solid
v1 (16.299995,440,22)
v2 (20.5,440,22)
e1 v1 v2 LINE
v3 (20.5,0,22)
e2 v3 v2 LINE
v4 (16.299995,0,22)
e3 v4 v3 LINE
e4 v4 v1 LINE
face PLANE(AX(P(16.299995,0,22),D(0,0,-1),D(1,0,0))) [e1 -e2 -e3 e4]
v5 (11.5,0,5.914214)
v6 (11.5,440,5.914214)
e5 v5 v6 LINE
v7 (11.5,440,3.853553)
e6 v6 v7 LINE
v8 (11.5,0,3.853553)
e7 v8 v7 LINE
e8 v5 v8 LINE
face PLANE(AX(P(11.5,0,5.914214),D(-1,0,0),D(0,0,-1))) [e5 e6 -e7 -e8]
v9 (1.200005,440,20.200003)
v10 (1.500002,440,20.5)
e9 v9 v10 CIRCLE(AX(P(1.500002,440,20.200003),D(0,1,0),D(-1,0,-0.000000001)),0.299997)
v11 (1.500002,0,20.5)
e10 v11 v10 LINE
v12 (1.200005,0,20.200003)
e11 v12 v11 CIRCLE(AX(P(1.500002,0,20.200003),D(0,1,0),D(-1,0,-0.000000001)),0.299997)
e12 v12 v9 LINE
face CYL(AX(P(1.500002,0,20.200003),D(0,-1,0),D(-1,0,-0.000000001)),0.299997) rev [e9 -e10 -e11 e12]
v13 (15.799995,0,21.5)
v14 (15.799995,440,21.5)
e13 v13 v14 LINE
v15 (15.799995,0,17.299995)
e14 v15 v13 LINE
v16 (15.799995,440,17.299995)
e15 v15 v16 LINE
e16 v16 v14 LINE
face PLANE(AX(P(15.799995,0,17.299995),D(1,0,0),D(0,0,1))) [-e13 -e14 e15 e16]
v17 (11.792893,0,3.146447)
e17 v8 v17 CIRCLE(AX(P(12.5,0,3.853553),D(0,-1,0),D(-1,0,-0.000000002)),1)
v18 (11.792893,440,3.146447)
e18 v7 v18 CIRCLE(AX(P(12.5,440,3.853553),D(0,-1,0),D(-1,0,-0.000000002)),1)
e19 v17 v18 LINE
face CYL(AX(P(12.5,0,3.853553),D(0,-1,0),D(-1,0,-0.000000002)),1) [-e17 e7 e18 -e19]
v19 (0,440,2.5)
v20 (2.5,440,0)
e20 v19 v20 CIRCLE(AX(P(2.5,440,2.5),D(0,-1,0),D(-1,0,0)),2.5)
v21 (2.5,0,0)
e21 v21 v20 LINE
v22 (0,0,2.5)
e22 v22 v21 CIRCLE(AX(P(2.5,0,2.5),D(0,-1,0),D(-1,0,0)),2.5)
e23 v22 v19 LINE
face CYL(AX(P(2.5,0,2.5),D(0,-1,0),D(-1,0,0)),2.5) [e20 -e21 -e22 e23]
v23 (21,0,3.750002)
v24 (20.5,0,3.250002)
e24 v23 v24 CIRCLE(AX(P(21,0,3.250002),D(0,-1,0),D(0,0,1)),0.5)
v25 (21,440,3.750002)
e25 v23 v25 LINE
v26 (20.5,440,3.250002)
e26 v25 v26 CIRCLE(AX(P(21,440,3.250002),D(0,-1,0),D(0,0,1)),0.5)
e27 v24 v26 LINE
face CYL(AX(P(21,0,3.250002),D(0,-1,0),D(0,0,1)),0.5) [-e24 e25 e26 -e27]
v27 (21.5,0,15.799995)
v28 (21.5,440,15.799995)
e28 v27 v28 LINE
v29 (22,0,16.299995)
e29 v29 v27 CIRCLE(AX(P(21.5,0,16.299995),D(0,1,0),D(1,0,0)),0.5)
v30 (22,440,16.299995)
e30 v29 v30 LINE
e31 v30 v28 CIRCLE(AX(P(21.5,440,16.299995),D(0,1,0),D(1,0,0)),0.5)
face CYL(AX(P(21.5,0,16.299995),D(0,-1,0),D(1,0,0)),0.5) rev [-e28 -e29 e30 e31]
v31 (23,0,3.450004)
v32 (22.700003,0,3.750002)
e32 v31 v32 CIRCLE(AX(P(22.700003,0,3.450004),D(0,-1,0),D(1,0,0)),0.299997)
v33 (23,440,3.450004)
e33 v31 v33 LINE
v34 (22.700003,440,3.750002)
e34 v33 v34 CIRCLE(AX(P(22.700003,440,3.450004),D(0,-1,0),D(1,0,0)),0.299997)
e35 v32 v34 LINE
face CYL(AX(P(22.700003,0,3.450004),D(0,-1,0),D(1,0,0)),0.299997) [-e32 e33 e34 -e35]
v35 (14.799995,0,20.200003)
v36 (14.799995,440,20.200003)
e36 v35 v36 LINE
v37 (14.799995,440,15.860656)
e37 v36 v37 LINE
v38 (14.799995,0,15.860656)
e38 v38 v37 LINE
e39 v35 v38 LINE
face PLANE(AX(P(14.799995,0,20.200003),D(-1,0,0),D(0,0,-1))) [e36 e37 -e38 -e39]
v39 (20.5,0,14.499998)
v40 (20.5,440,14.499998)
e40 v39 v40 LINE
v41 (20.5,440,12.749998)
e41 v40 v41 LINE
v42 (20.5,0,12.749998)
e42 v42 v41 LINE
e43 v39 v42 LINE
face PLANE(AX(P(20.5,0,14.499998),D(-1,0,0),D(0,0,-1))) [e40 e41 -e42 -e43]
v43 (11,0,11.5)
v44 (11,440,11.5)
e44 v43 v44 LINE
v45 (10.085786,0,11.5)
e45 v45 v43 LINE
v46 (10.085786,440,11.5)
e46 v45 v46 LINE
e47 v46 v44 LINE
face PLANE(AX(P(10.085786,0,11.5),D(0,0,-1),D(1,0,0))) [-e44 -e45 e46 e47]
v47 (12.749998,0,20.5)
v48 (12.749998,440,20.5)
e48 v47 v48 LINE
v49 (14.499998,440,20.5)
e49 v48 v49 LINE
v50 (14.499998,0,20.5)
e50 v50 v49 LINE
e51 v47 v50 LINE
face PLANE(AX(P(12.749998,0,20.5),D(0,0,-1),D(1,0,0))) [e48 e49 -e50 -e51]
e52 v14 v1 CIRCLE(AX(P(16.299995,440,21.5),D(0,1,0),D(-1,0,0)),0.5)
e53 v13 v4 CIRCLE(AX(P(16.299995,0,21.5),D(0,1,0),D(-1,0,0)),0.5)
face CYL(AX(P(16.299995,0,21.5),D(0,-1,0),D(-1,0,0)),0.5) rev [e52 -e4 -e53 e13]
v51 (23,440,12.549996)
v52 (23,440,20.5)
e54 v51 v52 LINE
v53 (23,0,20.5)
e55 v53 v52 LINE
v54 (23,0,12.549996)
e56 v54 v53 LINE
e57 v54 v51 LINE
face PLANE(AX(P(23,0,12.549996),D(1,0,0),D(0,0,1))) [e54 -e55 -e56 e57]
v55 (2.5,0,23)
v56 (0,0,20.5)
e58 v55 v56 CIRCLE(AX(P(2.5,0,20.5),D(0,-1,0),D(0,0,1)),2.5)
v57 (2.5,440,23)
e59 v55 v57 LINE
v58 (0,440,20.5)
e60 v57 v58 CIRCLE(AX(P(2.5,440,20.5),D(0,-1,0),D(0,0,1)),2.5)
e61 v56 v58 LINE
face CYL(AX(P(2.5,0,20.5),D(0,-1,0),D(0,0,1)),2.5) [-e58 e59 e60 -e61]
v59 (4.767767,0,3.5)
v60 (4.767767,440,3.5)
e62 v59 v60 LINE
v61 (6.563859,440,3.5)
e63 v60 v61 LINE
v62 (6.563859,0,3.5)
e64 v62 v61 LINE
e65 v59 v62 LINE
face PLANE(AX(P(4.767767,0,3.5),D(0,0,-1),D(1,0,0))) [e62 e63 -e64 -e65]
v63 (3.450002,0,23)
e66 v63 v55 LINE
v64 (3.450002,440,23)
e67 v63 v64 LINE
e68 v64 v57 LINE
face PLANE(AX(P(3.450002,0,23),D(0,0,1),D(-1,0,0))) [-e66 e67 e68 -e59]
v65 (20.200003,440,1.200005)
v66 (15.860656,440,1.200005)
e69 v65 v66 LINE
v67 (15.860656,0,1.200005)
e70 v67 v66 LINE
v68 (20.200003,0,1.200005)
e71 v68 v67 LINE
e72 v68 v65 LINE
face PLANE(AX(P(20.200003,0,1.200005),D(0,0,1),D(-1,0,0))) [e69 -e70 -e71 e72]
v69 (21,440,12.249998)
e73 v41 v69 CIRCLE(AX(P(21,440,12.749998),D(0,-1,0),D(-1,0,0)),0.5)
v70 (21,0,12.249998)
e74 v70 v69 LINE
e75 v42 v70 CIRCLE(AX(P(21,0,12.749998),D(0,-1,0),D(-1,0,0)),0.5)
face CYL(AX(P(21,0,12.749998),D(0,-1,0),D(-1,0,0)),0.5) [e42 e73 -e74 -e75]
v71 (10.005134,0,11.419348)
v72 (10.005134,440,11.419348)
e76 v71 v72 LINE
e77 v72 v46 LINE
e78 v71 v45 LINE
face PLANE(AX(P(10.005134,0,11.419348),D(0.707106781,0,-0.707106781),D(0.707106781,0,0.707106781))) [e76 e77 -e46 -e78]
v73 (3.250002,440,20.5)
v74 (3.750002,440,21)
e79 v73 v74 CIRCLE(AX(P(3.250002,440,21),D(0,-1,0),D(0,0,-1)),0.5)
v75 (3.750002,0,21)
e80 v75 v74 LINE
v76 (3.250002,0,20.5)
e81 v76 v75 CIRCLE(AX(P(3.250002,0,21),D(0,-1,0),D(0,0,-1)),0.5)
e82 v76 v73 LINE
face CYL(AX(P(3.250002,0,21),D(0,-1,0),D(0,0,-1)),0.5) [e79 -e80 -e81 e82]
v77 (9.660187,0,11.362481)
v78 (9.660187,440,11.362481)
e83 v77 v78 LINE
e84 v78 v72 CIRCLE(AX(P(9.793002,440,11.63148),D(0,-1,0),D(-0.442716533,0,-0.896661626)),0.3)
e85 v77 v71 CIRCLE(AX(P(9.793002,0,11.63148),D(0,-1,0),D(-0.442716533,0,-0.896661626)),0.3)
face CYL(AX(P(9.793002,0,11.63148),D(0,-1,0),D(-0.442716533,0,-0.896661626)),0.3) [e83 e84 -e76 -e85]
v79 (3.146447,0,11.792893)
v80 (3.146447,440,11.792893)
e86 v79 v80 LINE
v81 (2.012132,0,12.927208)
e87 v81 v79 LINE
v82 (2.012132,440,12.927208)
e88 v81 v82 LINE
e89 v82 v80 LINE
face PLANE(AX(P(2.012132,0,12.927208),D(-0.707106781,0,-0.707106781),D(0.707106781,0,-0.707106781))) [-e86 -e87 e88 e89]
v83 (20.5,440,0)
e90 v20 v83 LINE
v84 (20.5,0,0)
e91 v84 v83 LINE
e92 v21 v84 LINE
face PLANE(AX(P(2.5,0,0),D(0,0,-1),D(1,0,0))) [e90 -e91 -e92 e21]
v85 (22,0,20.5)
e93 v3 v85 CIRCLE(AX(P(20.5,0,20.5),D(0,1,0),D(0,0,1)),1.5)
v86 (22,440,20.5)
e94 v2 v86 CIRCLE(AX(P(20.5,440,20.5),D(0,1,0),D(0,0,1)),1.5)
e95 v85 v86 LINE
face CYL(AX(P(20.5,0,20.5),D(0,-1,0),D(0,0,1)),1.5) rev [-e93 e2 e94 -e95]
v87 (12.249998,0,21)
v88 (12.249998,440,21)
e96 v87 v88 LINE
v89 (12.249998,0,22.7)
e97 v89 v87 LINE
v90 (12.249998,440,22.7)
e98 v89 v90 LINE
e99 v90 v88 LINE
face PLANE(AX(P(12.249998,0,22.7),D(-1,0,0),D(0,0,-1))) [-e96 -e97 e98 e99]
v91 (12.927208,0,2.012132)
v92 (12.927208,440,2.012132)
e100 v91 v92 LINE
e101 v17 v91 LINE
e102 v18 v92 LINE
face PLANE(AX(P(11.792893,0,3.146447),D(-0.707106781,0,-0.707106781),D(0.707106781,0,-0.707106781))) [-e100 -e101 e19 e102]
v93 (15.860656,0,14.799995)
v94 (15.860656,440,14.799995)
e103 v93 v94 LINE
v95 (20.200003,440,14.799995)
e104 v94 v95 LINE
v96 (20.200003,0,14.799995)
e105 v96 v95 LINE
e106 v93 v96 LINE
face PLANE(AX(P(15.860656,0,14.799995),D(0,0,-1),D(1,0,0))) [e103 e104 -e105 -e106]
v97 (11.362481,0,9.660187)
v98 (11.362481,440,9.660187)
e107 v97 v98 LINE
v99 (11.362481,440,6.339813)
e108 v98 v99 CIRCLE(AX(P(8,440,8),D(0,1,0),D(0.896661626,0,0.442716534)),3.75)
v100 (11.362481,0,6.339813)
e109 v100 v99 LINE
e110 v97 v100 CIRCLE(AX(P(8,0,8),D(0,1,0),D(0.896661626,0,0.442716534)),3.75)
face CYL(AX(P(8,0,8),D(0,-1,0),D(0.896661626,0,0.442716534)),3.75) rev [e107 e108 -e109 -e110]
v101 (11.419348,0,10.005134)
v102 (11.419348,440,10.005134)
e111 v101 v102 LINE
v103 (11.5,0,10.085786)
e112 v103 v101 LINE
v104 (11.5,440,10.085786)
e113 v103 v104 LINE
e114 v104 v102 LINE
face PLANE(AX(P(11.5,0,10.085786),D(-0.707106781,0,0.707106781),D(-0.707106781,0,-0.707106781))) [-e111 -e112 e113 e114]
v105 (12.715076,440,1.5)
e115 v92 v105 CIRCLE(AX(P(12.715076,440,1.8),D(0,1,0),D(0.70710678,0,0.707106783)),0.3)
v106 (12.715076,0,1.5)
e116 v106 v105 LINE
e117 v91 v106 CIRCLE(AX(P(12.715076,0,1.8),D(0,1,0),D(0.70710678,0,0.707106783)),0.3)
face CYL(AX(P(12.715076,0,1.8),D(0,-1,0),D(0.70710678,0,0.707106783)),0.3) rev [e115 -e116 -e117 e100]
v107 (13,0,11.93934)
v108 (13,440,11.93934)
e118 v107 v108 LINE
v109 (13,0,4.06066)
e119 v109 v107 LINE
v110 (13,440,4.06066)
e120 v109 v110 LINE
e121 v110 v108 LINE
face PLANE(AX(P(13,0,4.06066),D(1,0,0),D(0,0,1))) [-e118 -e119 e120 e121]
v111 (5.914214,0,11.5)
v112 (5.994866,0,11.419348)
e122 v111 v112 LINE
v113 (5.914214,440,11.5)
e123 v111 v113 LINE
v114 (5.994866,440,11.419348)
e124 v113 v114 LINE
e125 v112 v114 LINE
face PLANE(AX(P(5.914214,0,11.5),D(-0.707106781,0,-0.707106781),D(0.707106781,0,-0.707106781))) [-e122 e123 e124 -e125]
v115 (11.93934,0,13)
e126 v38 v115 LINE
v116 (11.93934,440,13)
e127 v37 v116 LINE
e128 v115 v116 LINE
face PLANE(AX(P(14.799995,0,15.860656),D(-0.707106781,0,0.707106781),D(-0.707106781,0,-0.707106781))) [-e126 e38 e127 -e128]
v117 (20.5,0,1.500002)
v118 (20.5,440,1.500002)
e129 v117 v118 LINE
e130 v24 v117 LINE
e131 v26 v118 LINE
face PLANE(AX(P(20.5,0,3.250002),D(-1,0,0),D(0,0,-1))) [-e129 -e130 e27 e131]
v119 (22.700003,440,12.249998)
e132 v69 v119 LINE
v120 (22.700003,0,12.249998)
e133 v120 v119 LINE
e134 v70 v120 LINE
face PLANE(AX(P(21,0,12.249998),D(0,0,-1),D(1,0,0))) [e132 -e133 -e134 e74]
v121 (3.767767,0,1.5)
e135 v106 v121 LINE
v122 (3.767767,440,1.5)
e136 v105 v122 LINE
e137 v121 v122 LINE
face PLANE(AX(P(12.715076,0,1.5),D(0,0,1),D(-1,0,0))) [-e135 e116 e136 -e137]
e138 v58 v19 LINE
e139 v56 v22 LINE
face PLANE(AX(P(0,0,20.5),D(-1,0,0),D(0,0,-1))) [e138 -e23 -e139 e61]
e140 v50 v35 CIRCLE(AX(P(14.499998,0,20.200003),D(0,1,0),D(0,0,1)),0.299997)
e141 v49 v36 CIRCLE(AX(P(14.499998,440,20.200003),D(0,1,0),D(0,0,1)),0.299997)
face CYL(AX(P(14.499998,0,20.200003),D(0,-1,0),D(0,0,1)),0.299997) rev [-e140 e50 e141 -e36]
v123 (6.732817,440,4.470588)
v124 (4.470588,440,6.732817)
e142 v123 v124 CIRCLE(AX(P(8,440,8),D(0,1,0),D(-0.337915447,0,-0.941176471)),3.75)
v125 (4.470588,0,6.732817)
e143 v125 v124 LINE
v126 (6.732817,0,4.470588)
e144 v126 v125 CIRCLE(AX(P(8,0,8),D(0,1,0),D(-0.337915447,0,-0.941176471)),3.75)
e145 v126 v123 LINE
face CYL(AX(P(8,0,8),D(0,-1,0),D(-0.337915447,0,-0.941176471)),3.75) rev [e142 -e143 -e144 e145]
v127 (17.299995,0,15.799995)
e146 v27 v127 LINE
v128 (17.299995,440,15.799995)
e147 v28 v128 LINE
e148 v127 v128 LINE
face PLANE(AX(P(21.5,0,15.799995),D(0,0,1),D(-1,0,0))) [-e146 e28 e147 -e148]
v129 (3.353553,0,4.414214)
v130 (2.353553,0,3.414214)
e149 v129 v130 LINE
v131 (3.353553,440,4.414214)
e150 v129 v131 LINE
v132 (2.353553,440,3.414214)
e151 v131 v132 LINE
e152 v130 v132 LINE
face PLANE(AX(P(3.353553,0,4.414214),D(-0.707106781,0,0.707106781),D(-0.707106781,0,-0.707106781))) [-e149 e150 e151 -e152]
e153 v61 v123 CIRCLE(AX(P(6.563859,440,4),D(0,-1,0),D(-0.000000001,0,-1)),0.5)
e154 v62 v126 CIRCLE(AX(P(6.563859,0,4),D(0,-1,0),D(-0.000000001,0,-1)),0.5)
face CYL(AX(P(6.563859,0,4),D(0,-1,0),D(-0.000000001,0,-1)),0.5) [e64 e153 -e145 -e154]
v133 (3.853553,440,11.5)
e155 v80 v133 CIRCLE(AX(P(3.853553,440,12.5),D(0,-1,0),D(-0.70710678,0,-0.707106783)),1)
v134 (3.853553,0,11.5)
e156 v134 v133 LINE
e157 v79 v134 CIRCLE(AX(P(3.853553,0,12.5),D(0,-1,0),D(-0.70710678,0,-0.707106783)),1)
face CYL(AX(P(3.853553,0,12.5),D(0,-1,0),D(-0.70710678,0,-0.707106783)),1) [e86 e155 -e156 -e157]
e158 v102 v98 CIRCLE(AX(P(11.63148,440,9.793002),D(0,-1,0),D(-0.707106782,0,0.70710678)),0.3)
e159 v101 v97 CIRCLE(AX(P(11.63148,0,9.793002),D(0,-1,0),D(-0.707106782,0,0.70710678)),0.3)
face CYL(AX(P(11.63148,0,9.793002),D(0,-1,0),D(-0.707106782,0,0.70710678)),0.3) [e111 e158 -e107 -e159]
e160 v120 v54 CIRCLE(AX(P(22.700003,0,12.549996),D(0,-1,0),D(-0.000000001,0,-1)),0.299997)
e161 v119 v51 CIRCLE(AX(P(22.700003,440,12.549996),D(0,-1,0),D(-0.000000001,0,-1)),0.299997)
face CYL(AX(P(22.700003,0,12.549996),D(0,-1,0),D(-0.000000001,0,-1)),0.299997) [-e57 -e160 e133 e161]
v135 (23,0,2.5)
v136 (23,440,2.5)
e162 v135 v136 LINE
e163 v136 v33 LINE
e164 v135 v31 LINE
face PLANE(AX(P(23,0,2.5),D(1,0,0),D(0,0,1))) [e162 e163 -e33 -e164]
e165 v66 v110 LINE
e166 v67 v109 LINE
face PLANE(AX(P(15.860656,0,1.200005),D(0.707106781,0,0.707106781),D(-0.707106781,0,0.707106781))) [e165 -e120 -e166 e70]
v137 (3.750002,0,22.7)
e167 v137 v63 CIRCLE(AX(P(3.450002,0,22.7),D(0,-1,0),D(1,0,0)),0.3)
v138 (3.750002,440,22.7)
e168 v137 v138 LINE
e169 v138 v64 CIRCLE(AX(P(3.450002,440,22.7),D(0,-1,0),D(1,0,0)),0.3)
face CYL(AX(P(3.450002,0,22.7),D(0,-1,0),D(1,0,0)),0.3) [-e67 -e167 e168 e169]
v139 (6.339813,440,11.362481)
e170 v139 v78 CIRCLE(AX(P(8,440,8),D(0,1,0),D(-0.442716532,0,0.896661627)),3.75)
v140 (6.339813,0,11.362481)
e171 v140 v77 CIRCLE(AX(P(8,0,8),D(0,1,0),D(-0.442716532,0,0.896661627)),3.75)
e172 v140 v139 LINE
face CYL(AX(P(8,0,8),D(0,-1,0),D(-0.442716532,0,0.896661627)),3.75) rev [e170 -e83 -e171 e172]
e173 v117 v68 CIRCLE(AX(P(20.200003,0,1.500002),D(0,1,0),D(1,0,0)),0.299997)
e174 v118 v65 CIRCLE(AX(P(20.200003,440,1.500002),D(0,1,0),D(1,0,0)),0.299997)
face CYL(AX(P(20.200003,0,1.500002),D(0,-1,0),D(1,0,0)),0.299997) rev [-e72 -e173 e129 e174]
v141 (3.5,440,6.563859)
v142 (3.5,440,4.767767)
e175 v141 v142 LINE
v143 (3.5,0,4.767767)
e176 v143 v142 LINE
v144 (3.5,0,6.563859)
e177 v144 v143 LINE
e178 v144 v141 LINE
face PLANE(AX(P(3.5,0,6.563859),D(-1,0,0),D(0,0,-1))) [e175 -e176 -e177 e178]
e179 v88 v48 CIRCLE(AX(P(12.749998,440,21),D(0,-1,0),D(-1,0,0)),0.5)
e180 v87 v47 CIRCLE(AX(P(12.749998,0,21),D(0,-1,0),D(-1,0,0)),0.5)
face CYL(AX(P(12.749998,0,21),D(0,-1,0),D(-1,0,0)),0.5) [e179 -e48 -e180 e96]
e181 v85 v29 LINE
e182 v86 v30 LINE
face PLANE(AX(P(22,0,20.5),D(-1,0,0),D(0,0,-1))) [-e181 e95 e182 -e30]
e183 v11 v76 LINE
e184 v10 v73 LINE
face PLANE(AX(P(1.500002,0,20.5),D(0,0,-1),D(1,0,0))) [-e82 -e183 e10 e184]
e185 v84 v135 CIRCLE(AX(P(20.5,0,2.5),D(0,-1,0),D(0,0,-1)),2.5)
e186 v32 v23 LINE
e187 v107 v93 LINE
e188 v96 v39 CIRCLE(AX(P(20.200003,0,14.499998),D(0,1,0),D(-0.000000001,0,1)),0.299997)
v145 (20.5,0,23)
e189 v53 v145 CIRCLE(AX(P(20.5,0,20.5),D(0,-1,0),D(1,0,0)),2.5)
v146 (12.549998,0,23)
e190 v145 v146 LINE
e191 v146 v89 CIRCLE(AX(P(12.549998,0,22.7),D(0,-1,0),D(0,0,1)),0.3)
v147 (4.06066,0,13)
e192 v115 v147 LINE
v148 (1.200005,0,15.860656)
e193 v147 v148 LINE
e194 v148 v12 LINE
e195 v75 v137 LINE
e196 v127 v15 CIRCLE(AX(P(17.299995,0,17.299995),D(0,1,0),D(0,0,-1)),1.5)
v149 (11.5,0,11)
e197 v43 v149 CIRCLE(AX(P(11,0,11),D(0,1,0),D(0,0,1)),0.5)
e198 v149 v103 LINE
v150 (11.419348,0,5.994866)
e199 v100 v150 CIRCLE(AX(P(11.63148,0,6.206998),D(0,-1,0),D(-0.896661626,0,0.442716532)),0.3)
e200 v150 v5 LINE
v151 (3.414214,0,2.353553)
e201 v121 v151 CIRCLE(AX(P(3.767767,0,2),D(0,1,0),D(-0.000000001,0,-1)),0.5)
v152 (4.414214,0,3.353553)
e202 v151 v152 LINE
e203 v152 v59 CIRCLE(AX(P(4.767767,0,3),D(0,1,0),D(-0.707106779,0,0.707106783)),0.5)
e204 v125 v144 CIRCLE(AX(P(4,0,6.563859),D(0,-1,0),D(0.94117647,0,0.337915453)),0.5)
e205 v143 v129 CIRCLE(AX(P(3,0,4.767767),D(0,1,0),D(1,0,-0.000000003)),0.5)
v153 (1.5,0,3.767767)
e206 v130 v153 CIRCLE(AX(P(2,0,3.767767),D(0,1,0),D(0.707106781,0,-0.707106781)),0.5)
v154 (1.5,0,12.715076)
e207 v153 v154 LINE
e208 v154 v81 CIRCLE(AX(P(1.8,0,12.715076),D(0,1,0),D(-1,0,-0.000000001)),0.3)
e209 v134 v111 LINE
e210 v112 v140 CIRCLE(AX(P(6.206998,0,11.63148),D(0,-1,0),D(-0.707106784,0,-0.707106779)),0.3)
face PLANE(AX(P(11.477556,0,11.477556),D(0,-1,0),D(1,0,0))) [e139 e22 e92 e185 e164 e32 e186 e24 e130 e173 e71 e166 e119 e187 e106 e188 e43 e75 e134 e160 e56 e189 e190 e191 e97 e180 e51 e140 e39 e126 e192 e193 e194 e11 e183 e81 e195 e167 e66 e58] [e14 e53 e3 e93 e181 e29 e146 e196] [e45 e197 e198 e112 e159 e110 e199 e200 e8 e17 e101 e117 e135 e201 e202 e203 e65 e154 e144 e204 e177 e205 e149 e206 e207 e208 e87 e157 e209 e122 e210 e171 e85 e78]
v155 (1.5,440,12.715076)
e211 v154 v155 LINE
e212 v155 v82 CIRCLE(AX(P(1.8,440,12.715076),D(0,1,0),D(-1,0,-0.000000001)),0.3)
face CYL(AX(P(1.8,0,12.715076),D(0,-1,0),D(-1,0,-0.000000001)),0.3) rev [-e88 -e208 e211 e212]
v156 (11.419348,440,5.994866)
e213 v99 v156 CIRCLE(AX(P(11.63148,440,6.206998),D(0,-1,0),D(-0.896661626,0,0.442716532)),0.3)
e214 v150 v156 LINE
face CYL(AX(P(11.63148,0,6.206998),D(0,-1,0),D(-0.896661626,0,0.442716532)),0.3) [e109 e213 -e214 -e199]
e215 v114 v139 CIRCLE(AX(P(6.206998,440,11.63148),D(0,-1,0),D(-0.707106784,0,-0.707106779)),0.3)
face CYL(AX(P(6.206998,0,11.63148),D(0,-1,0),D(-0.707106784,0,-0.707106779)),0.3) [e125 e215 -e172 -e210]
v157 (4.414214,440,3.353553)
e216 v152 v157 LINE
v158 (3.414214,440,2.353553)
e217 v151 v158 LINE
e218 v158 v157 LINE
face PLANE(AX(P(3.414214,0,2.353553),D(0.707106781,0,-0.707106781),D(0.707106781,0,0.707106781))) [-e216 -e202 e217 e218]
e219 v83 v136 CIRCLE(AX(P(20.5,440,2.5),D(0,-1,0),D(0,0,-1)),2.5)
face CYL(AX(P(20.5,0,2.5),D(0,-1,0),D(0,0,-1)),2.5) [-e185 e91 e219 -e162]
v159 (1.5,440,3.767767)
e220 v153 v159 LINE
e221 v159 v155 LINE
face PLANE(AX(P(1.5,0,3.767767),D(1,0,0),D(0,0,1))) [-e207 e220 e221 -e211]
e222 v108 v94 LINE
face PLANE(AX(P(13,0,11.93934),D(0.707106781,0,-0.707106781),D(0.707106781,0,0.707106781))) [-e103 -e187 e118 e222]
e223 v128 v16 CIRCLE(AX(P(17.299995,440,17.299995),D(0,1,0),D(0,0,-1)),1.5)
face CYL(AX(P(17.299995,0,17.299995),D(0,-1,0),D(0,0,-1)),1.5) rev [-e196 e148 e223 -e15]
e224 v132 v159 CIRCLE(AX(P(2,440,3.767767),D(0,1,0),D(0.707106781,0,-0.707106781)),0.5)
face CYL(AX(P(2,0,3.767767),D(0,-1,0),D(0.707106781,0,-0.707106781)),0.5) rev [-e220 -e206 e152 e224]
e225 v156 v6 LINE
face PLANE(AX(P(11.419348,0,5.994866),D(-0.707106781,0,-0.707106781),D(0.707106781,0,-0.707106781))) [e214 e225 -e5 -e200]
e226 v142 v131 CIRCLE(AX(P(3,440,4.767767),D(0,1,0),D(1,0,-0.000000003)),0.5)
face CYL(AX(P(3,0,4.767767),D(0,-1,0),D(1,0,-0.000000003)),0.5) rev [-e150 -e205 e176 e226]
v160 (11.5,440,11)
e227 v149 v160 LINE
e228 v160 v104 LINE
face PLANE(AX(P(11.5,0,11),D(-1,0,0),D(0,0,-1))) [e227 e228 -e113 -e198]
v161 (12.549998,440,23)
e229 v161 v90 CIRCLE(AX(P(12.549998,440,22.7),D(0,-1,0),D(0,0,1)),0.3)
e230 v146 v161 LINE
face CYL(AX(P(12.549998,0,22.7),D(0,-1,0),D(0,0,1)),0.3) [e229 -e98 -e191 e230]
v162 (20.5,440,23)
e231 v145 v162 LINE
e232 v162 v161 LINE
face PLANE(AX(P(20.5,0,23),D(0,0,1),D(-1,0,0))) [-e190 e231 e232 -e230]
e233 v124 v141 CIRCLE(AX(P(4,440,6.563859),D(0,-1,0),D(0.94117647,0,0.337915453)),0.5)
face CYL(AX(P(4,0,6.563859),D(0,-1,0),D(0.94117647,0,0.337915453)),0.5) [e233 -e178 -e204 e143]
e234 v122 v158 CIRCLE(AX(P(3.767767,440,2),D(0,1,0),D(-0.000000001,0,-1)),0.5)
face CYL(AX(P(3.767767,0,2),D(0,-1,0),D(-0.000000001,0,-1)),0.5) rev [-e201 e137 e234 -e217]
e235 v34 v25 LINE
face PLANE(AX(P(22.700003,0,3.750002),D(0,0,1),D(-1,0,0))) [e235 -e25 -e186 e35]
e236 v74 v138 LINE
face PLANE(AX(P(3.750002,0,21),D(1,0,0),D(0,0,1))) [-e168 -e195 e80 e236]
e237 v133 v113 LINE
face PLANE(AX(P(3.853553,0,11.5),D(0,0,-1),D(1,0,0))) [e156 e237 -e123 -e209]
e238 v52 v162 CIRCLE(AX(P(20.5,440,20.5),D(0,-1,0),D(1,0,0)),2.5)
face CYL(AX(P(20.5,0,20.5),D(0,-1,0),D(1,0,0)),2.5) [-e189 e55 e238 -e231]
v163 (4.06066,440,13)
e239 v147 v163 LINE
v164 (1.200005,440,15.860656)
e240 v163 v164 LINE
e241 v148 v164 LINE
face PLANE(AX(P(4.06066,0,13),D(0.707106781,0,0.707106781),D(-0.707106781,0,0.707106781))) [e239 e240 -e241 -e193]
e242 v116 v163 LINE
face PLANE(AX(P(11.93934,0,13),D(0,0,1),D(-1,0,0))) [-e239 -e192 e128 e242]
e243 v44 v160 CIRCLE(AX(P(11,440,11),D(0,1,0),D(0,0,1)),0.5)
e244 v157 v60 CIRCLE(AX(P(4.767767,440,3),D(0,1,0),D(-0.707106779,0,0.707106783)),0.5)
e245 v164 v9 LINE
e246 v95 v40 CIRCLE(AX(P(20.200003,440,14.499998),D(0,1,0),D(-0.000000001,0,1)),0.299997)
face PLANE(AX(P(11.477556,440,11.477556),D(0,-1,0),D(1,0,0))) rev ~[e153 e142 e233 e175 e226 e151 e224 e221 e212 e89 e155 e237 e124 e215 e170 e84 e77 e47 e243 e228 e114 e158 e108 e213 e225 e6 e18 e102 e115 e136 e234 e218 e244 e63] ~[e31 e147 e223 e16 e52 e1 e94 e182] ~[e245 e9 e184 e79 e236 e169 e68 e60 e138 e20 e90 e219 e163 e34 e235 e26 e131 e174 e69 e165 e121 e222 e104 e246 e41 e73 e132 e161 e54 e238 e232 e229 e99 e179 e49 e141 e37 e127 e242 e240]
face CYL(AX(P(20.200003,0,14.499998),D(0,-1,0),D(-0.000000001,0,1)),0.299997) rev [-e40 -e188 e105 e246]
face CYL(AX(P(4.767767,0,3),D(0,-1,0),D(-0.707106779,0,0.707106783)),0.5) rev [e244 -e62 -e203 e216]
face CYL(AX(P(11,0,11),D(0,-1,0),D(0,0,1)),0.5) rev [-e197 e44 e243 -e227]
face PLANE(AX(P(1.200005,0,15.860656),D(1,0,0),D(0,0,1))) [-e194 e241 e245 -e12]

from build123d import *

# Parameters (mm, degrees)
AUFSATZ_LINEAR_AUSTRAGEN1_DEPTH = 440


with BuildPart() as part:
    # Skizze1 → Aufsatz-Linear austragen1 (new body)
    with BuildSketch(Plane.XZ):
        with BuildLine():
            Line((3.450001515, 23.00000001), (2.5, 23.00000001))
            ThreePointArc((2.5, 23.00000001), (0.73223304, 22.26776696), (-1e-08, 20.5))
            Line((-1e-08, 20.5), (-1e-08, 2.50000002))
            ThreePointArc((-1e-08, 2.50000002), (0.732233039, 0.732233062), (2.499999998, 1.2e-08))
            Line((2.499999998, 1.2e-08), (20.499999977, 1.2e-08))
            ThreePointArc((20.499999977, 1.2e-08), (22.267766938, 0.732233062), (22.999999988, 2.500000023))
            Line((22.999999988, 2.500000023), (22.999999988, 3.450004181))
            ThreePointArc((22.999999988, 3.450004181), (22.912132793, 3.662134355), (22.700002619, 3.75000155))
            Line((22.700002619, 3.75000155), (20.999999992, 3.75000155))
            ThreePointArc((20.999999992, 3.75000155), (20.6464466, 3.60355494), (20.49999999, 3.250001548))
            Line((20.49999999, 3.250001548), (20.49999999, 1.500001969))
            ThreePointArc((20.49999999, 1.500001969), (20.412132795, 1.287871795), (20.200002621, 1.2000046))
            Line((20.200002621, 1.2000046), (15.86065559, 1.2000046))
            Line((15.86065559, 1.2000046), (12.99999999, 4.0606602))
            Line((12.99999999, 4.0606602), (12.99999999, 11.93933984))
            Line((12.99999999, 11.93933984), (15.86065559, 14.79999544))
            Line((15.86065559, 14.79999544), (20.200002638, 14.79999544))
            ThreePointArc((20.200002638, 14.79999544), (20.4121328, 14.71212825), (20.49999999, 14.499998088))
            Line((20.49999999, 14.499998088), (20.49999999, 12.749998492))
            ThreePointArc((20.49999999, 12.749998492), (20.6464466, 12.3964451), (20.999999992, 12.24999849))
            Line((20.999999992, 12.24999849), (22.700002636, 12.24999849))
            ThreePointArc((22.700002636, 12.24999849), (22.912132798, 12.33786568), (22.999999988, 12.549995842))
            Line((22.999999988, 12.549995842), (22.999999988, 20.5))
            ThreePointArc((22.999999988, 20.5), (22.267766938, 22.26776696), (20.499999977, 23.00000001))
            Line((20.499999977, 23.00000001), (12.549998485, 23.00000001))
            ThreePointArc((12.549998485, 23.00000001), (12.33786644, 22.91213204), (12.24999847, 22.699999995))
            Line((12.24999847, 22.699999995), (12.24999847, 21.000000012))
            ThreePointArc((12.24999847, 21.000000012), (12.39644508, 20.64644662), (12.749998472, 20.50000001))
            Line((12.749998472, 20.50000001), (14.499998051, 20.50000001))
            ThreePointArc((14.499998051, 20.50000001), (14.712128225, 20.412132815), (14.79999542, 20.200002641))
            Line((14.79999542, 20.200002641), (14.79999542, 15.86065561))
            Line((14.79999542, 15.86065561), (11.93933982, 13.00000001))
            Line((11.93933982, 13.00000001), (4.06066018, 13.00000001))
            Line((4.06066018, 13.00000001), (1.20000458, 15.86065561))
            Line((1.20000458, 15.86065561), (1.20000458, 20.200002658))
            ThreePointArc((1.20000458, 20.200002658), (1.28787177, 20.41213282), (1.500001932, 20.50000001))
            Line((1.500001932, 20.50000001), (3.250001528, 20.50000001))
            ThreePointArc((3.250001528, 20.50000001), (3.60355492, 20.64644662), (3.75000153, 21.000000012))
            Line((3.75000153, 21.000000012), (3.75000153, 22.699999995))
            ThreePointArc((3.75000153, 22.699999995), (3.66213356, 22.91213204), (3.450001515, 23.00000001))
        make_face()
        with BuildLine():
            Line((1.49999999, 3.767766952), (1.49999999, 12.715075784))
            ThreePointArc((1.49999999, 12.715075784), (1.685194957, 12.992239639), (2.012132015, 12.927207815))
            Line((2.012132015, 12.927207815), (3.146446603, 11.792893227))
            ThreePointArc((3.146446603, 11.792893227), (3.470869961, 11.57612047), (3.853553404, 11.5))
            Line((3.853553404, 11.5), (5.91421356, 11.5))
            Line((5.91421356, 11.5), (5.994865994, 11.419347566))
            ThreePointArc((5.994865994, 11.419347566), (6.158199998, 11.33547495), (6.339812993, 11.362481111))
            ThreePointArc((6.339812993, 11.362481111), (7.999999982, 11.750000011), (9.660186973, 11.362481114))
            ThreePointArc((9.660186973, 11.362481114), (9.841799967, 11.335474953), (10.00513397, 11.419347568))
            Line((10.00513397, 11.419347568), (10.085786402, 11.5))
            Line((10.085786402, 11.5), (10.999999968, 11.5))
            ThreePointArc((10.999999968, 11.5), (11.35355336, 11.35355339), (11.49999997, 10.999999998))
            Line((11.49999997, 10.999999998), (11.49999997, 10.085786456))
            Line((11.49999997, 10.085786456), (11.41934753, 10.005134016))
            ThreePointArc((11.41934753, 10.005134016), (11.335474915, 9.841800012), (11.362481077, 9.660187017))
            ThreePointArc((11.362481077, 9.660187017), (11.749999981, 8.00000002), (11.362481081, 6.339813023))
            ThreePointArc((11.362481081, 6.339813023), (11.33547492, 6.158200028), (11.419347536, 5.994866024))
            Line((11.419347536, 5.994866024), (11.49999997, 5.91421359))
            Line((11.49999997, 5.91421359), (11.49999997, 3.853553434))
            ThreePointArc((11.49999997, 3.853553434), (11.57612044, 3.470869991), (11.792893197, 3.146446633))
            Line((11.792893197, 3.146446633), (12.927207774, 2.012132056))
            ThreePointArc((12.927207774, 2.012132056), (12.992239599, 1.685194995), (12.715075743, 1.500000027))
            Line((12.715075743, 1.500000027), (3.767766925, 1.500000027))
            ThreePointArc((3.767766925, 1.500000027), (3.305827172, 1.808658302), (3.414213544, 2.353553394))
            Line((3.414213544, 2.353553394), (4.41421357, 3.35355342))
            ThreePointArc((4.41421357, 3.35355342), (4.576425223, 3.461939781), (4.767766914, 3.50000001))
            Line((4.767766914, 3.50000001), (6.563859334, 3.50000001))
            ThreePointArc((6.563859334, 3.50000001), (7.05645152, 3.91425072), (6.732817059, 4.47058825))
            ThreePointArc((6.732817059, 4.47058825), (5.348349567, 5.348349579), (4.470588229, 6.732817064))
            ThreePointArc((4.470588229, 6.732817064), (3.914250698, 7.056451522), (3.49999999, 6.563859337))
            Line((3.49999999, 6.563859337), (3.49999999, 4.767766934))
            ThreePointArc((3.49999999, 4.767766934), (3.461939761, 4.576425243), (3.3535534, 4.41421359))
            Line((3.3535534, 4.41421359), (2.353553374, 3.414213564))
            ThreePointArc((2.353553374, 3.414213564), (1.808658272, 3.305827189), (1.49999999, 3.767766952))
        make_face(mode=Mode.SUBTRACT)
        with BuildLine():
            Line((15.79999543, 17.299995436), (15.79999543, 21.499999998))
            ThreePointArc((15.79999543, 21.499999998), (15.94644204, 21.85355339), (16.299995432, 22))
            Line((16.299995432, 22), (20.499999977, 22))
            ThreePointArc((20.499999977, 22), (21.560660149, 21.560660172), (21.999999978, 20.5))
            Line((21.999999978, 20.5), (21.999999978, 16.299995432))
            ThreePointArc((21.999999978, 16.299995432), (21.853553368, 15.94644204), (21.499999976, 15.79999543))
            Line((21.499999976, 15.79999543), (17.299995436, 15.79999543))
            ThreePointArc((17.299995436, 15.79999543), (16.23933526, 16.23933526), (15.79999543, 17.299995436))
        make_face(mode=Mode.SUBTRACT)
    extrude(amount=-AUFSATZ_LINEAR_AUSTRAGEN1_DEPTH)


solid = part.part
